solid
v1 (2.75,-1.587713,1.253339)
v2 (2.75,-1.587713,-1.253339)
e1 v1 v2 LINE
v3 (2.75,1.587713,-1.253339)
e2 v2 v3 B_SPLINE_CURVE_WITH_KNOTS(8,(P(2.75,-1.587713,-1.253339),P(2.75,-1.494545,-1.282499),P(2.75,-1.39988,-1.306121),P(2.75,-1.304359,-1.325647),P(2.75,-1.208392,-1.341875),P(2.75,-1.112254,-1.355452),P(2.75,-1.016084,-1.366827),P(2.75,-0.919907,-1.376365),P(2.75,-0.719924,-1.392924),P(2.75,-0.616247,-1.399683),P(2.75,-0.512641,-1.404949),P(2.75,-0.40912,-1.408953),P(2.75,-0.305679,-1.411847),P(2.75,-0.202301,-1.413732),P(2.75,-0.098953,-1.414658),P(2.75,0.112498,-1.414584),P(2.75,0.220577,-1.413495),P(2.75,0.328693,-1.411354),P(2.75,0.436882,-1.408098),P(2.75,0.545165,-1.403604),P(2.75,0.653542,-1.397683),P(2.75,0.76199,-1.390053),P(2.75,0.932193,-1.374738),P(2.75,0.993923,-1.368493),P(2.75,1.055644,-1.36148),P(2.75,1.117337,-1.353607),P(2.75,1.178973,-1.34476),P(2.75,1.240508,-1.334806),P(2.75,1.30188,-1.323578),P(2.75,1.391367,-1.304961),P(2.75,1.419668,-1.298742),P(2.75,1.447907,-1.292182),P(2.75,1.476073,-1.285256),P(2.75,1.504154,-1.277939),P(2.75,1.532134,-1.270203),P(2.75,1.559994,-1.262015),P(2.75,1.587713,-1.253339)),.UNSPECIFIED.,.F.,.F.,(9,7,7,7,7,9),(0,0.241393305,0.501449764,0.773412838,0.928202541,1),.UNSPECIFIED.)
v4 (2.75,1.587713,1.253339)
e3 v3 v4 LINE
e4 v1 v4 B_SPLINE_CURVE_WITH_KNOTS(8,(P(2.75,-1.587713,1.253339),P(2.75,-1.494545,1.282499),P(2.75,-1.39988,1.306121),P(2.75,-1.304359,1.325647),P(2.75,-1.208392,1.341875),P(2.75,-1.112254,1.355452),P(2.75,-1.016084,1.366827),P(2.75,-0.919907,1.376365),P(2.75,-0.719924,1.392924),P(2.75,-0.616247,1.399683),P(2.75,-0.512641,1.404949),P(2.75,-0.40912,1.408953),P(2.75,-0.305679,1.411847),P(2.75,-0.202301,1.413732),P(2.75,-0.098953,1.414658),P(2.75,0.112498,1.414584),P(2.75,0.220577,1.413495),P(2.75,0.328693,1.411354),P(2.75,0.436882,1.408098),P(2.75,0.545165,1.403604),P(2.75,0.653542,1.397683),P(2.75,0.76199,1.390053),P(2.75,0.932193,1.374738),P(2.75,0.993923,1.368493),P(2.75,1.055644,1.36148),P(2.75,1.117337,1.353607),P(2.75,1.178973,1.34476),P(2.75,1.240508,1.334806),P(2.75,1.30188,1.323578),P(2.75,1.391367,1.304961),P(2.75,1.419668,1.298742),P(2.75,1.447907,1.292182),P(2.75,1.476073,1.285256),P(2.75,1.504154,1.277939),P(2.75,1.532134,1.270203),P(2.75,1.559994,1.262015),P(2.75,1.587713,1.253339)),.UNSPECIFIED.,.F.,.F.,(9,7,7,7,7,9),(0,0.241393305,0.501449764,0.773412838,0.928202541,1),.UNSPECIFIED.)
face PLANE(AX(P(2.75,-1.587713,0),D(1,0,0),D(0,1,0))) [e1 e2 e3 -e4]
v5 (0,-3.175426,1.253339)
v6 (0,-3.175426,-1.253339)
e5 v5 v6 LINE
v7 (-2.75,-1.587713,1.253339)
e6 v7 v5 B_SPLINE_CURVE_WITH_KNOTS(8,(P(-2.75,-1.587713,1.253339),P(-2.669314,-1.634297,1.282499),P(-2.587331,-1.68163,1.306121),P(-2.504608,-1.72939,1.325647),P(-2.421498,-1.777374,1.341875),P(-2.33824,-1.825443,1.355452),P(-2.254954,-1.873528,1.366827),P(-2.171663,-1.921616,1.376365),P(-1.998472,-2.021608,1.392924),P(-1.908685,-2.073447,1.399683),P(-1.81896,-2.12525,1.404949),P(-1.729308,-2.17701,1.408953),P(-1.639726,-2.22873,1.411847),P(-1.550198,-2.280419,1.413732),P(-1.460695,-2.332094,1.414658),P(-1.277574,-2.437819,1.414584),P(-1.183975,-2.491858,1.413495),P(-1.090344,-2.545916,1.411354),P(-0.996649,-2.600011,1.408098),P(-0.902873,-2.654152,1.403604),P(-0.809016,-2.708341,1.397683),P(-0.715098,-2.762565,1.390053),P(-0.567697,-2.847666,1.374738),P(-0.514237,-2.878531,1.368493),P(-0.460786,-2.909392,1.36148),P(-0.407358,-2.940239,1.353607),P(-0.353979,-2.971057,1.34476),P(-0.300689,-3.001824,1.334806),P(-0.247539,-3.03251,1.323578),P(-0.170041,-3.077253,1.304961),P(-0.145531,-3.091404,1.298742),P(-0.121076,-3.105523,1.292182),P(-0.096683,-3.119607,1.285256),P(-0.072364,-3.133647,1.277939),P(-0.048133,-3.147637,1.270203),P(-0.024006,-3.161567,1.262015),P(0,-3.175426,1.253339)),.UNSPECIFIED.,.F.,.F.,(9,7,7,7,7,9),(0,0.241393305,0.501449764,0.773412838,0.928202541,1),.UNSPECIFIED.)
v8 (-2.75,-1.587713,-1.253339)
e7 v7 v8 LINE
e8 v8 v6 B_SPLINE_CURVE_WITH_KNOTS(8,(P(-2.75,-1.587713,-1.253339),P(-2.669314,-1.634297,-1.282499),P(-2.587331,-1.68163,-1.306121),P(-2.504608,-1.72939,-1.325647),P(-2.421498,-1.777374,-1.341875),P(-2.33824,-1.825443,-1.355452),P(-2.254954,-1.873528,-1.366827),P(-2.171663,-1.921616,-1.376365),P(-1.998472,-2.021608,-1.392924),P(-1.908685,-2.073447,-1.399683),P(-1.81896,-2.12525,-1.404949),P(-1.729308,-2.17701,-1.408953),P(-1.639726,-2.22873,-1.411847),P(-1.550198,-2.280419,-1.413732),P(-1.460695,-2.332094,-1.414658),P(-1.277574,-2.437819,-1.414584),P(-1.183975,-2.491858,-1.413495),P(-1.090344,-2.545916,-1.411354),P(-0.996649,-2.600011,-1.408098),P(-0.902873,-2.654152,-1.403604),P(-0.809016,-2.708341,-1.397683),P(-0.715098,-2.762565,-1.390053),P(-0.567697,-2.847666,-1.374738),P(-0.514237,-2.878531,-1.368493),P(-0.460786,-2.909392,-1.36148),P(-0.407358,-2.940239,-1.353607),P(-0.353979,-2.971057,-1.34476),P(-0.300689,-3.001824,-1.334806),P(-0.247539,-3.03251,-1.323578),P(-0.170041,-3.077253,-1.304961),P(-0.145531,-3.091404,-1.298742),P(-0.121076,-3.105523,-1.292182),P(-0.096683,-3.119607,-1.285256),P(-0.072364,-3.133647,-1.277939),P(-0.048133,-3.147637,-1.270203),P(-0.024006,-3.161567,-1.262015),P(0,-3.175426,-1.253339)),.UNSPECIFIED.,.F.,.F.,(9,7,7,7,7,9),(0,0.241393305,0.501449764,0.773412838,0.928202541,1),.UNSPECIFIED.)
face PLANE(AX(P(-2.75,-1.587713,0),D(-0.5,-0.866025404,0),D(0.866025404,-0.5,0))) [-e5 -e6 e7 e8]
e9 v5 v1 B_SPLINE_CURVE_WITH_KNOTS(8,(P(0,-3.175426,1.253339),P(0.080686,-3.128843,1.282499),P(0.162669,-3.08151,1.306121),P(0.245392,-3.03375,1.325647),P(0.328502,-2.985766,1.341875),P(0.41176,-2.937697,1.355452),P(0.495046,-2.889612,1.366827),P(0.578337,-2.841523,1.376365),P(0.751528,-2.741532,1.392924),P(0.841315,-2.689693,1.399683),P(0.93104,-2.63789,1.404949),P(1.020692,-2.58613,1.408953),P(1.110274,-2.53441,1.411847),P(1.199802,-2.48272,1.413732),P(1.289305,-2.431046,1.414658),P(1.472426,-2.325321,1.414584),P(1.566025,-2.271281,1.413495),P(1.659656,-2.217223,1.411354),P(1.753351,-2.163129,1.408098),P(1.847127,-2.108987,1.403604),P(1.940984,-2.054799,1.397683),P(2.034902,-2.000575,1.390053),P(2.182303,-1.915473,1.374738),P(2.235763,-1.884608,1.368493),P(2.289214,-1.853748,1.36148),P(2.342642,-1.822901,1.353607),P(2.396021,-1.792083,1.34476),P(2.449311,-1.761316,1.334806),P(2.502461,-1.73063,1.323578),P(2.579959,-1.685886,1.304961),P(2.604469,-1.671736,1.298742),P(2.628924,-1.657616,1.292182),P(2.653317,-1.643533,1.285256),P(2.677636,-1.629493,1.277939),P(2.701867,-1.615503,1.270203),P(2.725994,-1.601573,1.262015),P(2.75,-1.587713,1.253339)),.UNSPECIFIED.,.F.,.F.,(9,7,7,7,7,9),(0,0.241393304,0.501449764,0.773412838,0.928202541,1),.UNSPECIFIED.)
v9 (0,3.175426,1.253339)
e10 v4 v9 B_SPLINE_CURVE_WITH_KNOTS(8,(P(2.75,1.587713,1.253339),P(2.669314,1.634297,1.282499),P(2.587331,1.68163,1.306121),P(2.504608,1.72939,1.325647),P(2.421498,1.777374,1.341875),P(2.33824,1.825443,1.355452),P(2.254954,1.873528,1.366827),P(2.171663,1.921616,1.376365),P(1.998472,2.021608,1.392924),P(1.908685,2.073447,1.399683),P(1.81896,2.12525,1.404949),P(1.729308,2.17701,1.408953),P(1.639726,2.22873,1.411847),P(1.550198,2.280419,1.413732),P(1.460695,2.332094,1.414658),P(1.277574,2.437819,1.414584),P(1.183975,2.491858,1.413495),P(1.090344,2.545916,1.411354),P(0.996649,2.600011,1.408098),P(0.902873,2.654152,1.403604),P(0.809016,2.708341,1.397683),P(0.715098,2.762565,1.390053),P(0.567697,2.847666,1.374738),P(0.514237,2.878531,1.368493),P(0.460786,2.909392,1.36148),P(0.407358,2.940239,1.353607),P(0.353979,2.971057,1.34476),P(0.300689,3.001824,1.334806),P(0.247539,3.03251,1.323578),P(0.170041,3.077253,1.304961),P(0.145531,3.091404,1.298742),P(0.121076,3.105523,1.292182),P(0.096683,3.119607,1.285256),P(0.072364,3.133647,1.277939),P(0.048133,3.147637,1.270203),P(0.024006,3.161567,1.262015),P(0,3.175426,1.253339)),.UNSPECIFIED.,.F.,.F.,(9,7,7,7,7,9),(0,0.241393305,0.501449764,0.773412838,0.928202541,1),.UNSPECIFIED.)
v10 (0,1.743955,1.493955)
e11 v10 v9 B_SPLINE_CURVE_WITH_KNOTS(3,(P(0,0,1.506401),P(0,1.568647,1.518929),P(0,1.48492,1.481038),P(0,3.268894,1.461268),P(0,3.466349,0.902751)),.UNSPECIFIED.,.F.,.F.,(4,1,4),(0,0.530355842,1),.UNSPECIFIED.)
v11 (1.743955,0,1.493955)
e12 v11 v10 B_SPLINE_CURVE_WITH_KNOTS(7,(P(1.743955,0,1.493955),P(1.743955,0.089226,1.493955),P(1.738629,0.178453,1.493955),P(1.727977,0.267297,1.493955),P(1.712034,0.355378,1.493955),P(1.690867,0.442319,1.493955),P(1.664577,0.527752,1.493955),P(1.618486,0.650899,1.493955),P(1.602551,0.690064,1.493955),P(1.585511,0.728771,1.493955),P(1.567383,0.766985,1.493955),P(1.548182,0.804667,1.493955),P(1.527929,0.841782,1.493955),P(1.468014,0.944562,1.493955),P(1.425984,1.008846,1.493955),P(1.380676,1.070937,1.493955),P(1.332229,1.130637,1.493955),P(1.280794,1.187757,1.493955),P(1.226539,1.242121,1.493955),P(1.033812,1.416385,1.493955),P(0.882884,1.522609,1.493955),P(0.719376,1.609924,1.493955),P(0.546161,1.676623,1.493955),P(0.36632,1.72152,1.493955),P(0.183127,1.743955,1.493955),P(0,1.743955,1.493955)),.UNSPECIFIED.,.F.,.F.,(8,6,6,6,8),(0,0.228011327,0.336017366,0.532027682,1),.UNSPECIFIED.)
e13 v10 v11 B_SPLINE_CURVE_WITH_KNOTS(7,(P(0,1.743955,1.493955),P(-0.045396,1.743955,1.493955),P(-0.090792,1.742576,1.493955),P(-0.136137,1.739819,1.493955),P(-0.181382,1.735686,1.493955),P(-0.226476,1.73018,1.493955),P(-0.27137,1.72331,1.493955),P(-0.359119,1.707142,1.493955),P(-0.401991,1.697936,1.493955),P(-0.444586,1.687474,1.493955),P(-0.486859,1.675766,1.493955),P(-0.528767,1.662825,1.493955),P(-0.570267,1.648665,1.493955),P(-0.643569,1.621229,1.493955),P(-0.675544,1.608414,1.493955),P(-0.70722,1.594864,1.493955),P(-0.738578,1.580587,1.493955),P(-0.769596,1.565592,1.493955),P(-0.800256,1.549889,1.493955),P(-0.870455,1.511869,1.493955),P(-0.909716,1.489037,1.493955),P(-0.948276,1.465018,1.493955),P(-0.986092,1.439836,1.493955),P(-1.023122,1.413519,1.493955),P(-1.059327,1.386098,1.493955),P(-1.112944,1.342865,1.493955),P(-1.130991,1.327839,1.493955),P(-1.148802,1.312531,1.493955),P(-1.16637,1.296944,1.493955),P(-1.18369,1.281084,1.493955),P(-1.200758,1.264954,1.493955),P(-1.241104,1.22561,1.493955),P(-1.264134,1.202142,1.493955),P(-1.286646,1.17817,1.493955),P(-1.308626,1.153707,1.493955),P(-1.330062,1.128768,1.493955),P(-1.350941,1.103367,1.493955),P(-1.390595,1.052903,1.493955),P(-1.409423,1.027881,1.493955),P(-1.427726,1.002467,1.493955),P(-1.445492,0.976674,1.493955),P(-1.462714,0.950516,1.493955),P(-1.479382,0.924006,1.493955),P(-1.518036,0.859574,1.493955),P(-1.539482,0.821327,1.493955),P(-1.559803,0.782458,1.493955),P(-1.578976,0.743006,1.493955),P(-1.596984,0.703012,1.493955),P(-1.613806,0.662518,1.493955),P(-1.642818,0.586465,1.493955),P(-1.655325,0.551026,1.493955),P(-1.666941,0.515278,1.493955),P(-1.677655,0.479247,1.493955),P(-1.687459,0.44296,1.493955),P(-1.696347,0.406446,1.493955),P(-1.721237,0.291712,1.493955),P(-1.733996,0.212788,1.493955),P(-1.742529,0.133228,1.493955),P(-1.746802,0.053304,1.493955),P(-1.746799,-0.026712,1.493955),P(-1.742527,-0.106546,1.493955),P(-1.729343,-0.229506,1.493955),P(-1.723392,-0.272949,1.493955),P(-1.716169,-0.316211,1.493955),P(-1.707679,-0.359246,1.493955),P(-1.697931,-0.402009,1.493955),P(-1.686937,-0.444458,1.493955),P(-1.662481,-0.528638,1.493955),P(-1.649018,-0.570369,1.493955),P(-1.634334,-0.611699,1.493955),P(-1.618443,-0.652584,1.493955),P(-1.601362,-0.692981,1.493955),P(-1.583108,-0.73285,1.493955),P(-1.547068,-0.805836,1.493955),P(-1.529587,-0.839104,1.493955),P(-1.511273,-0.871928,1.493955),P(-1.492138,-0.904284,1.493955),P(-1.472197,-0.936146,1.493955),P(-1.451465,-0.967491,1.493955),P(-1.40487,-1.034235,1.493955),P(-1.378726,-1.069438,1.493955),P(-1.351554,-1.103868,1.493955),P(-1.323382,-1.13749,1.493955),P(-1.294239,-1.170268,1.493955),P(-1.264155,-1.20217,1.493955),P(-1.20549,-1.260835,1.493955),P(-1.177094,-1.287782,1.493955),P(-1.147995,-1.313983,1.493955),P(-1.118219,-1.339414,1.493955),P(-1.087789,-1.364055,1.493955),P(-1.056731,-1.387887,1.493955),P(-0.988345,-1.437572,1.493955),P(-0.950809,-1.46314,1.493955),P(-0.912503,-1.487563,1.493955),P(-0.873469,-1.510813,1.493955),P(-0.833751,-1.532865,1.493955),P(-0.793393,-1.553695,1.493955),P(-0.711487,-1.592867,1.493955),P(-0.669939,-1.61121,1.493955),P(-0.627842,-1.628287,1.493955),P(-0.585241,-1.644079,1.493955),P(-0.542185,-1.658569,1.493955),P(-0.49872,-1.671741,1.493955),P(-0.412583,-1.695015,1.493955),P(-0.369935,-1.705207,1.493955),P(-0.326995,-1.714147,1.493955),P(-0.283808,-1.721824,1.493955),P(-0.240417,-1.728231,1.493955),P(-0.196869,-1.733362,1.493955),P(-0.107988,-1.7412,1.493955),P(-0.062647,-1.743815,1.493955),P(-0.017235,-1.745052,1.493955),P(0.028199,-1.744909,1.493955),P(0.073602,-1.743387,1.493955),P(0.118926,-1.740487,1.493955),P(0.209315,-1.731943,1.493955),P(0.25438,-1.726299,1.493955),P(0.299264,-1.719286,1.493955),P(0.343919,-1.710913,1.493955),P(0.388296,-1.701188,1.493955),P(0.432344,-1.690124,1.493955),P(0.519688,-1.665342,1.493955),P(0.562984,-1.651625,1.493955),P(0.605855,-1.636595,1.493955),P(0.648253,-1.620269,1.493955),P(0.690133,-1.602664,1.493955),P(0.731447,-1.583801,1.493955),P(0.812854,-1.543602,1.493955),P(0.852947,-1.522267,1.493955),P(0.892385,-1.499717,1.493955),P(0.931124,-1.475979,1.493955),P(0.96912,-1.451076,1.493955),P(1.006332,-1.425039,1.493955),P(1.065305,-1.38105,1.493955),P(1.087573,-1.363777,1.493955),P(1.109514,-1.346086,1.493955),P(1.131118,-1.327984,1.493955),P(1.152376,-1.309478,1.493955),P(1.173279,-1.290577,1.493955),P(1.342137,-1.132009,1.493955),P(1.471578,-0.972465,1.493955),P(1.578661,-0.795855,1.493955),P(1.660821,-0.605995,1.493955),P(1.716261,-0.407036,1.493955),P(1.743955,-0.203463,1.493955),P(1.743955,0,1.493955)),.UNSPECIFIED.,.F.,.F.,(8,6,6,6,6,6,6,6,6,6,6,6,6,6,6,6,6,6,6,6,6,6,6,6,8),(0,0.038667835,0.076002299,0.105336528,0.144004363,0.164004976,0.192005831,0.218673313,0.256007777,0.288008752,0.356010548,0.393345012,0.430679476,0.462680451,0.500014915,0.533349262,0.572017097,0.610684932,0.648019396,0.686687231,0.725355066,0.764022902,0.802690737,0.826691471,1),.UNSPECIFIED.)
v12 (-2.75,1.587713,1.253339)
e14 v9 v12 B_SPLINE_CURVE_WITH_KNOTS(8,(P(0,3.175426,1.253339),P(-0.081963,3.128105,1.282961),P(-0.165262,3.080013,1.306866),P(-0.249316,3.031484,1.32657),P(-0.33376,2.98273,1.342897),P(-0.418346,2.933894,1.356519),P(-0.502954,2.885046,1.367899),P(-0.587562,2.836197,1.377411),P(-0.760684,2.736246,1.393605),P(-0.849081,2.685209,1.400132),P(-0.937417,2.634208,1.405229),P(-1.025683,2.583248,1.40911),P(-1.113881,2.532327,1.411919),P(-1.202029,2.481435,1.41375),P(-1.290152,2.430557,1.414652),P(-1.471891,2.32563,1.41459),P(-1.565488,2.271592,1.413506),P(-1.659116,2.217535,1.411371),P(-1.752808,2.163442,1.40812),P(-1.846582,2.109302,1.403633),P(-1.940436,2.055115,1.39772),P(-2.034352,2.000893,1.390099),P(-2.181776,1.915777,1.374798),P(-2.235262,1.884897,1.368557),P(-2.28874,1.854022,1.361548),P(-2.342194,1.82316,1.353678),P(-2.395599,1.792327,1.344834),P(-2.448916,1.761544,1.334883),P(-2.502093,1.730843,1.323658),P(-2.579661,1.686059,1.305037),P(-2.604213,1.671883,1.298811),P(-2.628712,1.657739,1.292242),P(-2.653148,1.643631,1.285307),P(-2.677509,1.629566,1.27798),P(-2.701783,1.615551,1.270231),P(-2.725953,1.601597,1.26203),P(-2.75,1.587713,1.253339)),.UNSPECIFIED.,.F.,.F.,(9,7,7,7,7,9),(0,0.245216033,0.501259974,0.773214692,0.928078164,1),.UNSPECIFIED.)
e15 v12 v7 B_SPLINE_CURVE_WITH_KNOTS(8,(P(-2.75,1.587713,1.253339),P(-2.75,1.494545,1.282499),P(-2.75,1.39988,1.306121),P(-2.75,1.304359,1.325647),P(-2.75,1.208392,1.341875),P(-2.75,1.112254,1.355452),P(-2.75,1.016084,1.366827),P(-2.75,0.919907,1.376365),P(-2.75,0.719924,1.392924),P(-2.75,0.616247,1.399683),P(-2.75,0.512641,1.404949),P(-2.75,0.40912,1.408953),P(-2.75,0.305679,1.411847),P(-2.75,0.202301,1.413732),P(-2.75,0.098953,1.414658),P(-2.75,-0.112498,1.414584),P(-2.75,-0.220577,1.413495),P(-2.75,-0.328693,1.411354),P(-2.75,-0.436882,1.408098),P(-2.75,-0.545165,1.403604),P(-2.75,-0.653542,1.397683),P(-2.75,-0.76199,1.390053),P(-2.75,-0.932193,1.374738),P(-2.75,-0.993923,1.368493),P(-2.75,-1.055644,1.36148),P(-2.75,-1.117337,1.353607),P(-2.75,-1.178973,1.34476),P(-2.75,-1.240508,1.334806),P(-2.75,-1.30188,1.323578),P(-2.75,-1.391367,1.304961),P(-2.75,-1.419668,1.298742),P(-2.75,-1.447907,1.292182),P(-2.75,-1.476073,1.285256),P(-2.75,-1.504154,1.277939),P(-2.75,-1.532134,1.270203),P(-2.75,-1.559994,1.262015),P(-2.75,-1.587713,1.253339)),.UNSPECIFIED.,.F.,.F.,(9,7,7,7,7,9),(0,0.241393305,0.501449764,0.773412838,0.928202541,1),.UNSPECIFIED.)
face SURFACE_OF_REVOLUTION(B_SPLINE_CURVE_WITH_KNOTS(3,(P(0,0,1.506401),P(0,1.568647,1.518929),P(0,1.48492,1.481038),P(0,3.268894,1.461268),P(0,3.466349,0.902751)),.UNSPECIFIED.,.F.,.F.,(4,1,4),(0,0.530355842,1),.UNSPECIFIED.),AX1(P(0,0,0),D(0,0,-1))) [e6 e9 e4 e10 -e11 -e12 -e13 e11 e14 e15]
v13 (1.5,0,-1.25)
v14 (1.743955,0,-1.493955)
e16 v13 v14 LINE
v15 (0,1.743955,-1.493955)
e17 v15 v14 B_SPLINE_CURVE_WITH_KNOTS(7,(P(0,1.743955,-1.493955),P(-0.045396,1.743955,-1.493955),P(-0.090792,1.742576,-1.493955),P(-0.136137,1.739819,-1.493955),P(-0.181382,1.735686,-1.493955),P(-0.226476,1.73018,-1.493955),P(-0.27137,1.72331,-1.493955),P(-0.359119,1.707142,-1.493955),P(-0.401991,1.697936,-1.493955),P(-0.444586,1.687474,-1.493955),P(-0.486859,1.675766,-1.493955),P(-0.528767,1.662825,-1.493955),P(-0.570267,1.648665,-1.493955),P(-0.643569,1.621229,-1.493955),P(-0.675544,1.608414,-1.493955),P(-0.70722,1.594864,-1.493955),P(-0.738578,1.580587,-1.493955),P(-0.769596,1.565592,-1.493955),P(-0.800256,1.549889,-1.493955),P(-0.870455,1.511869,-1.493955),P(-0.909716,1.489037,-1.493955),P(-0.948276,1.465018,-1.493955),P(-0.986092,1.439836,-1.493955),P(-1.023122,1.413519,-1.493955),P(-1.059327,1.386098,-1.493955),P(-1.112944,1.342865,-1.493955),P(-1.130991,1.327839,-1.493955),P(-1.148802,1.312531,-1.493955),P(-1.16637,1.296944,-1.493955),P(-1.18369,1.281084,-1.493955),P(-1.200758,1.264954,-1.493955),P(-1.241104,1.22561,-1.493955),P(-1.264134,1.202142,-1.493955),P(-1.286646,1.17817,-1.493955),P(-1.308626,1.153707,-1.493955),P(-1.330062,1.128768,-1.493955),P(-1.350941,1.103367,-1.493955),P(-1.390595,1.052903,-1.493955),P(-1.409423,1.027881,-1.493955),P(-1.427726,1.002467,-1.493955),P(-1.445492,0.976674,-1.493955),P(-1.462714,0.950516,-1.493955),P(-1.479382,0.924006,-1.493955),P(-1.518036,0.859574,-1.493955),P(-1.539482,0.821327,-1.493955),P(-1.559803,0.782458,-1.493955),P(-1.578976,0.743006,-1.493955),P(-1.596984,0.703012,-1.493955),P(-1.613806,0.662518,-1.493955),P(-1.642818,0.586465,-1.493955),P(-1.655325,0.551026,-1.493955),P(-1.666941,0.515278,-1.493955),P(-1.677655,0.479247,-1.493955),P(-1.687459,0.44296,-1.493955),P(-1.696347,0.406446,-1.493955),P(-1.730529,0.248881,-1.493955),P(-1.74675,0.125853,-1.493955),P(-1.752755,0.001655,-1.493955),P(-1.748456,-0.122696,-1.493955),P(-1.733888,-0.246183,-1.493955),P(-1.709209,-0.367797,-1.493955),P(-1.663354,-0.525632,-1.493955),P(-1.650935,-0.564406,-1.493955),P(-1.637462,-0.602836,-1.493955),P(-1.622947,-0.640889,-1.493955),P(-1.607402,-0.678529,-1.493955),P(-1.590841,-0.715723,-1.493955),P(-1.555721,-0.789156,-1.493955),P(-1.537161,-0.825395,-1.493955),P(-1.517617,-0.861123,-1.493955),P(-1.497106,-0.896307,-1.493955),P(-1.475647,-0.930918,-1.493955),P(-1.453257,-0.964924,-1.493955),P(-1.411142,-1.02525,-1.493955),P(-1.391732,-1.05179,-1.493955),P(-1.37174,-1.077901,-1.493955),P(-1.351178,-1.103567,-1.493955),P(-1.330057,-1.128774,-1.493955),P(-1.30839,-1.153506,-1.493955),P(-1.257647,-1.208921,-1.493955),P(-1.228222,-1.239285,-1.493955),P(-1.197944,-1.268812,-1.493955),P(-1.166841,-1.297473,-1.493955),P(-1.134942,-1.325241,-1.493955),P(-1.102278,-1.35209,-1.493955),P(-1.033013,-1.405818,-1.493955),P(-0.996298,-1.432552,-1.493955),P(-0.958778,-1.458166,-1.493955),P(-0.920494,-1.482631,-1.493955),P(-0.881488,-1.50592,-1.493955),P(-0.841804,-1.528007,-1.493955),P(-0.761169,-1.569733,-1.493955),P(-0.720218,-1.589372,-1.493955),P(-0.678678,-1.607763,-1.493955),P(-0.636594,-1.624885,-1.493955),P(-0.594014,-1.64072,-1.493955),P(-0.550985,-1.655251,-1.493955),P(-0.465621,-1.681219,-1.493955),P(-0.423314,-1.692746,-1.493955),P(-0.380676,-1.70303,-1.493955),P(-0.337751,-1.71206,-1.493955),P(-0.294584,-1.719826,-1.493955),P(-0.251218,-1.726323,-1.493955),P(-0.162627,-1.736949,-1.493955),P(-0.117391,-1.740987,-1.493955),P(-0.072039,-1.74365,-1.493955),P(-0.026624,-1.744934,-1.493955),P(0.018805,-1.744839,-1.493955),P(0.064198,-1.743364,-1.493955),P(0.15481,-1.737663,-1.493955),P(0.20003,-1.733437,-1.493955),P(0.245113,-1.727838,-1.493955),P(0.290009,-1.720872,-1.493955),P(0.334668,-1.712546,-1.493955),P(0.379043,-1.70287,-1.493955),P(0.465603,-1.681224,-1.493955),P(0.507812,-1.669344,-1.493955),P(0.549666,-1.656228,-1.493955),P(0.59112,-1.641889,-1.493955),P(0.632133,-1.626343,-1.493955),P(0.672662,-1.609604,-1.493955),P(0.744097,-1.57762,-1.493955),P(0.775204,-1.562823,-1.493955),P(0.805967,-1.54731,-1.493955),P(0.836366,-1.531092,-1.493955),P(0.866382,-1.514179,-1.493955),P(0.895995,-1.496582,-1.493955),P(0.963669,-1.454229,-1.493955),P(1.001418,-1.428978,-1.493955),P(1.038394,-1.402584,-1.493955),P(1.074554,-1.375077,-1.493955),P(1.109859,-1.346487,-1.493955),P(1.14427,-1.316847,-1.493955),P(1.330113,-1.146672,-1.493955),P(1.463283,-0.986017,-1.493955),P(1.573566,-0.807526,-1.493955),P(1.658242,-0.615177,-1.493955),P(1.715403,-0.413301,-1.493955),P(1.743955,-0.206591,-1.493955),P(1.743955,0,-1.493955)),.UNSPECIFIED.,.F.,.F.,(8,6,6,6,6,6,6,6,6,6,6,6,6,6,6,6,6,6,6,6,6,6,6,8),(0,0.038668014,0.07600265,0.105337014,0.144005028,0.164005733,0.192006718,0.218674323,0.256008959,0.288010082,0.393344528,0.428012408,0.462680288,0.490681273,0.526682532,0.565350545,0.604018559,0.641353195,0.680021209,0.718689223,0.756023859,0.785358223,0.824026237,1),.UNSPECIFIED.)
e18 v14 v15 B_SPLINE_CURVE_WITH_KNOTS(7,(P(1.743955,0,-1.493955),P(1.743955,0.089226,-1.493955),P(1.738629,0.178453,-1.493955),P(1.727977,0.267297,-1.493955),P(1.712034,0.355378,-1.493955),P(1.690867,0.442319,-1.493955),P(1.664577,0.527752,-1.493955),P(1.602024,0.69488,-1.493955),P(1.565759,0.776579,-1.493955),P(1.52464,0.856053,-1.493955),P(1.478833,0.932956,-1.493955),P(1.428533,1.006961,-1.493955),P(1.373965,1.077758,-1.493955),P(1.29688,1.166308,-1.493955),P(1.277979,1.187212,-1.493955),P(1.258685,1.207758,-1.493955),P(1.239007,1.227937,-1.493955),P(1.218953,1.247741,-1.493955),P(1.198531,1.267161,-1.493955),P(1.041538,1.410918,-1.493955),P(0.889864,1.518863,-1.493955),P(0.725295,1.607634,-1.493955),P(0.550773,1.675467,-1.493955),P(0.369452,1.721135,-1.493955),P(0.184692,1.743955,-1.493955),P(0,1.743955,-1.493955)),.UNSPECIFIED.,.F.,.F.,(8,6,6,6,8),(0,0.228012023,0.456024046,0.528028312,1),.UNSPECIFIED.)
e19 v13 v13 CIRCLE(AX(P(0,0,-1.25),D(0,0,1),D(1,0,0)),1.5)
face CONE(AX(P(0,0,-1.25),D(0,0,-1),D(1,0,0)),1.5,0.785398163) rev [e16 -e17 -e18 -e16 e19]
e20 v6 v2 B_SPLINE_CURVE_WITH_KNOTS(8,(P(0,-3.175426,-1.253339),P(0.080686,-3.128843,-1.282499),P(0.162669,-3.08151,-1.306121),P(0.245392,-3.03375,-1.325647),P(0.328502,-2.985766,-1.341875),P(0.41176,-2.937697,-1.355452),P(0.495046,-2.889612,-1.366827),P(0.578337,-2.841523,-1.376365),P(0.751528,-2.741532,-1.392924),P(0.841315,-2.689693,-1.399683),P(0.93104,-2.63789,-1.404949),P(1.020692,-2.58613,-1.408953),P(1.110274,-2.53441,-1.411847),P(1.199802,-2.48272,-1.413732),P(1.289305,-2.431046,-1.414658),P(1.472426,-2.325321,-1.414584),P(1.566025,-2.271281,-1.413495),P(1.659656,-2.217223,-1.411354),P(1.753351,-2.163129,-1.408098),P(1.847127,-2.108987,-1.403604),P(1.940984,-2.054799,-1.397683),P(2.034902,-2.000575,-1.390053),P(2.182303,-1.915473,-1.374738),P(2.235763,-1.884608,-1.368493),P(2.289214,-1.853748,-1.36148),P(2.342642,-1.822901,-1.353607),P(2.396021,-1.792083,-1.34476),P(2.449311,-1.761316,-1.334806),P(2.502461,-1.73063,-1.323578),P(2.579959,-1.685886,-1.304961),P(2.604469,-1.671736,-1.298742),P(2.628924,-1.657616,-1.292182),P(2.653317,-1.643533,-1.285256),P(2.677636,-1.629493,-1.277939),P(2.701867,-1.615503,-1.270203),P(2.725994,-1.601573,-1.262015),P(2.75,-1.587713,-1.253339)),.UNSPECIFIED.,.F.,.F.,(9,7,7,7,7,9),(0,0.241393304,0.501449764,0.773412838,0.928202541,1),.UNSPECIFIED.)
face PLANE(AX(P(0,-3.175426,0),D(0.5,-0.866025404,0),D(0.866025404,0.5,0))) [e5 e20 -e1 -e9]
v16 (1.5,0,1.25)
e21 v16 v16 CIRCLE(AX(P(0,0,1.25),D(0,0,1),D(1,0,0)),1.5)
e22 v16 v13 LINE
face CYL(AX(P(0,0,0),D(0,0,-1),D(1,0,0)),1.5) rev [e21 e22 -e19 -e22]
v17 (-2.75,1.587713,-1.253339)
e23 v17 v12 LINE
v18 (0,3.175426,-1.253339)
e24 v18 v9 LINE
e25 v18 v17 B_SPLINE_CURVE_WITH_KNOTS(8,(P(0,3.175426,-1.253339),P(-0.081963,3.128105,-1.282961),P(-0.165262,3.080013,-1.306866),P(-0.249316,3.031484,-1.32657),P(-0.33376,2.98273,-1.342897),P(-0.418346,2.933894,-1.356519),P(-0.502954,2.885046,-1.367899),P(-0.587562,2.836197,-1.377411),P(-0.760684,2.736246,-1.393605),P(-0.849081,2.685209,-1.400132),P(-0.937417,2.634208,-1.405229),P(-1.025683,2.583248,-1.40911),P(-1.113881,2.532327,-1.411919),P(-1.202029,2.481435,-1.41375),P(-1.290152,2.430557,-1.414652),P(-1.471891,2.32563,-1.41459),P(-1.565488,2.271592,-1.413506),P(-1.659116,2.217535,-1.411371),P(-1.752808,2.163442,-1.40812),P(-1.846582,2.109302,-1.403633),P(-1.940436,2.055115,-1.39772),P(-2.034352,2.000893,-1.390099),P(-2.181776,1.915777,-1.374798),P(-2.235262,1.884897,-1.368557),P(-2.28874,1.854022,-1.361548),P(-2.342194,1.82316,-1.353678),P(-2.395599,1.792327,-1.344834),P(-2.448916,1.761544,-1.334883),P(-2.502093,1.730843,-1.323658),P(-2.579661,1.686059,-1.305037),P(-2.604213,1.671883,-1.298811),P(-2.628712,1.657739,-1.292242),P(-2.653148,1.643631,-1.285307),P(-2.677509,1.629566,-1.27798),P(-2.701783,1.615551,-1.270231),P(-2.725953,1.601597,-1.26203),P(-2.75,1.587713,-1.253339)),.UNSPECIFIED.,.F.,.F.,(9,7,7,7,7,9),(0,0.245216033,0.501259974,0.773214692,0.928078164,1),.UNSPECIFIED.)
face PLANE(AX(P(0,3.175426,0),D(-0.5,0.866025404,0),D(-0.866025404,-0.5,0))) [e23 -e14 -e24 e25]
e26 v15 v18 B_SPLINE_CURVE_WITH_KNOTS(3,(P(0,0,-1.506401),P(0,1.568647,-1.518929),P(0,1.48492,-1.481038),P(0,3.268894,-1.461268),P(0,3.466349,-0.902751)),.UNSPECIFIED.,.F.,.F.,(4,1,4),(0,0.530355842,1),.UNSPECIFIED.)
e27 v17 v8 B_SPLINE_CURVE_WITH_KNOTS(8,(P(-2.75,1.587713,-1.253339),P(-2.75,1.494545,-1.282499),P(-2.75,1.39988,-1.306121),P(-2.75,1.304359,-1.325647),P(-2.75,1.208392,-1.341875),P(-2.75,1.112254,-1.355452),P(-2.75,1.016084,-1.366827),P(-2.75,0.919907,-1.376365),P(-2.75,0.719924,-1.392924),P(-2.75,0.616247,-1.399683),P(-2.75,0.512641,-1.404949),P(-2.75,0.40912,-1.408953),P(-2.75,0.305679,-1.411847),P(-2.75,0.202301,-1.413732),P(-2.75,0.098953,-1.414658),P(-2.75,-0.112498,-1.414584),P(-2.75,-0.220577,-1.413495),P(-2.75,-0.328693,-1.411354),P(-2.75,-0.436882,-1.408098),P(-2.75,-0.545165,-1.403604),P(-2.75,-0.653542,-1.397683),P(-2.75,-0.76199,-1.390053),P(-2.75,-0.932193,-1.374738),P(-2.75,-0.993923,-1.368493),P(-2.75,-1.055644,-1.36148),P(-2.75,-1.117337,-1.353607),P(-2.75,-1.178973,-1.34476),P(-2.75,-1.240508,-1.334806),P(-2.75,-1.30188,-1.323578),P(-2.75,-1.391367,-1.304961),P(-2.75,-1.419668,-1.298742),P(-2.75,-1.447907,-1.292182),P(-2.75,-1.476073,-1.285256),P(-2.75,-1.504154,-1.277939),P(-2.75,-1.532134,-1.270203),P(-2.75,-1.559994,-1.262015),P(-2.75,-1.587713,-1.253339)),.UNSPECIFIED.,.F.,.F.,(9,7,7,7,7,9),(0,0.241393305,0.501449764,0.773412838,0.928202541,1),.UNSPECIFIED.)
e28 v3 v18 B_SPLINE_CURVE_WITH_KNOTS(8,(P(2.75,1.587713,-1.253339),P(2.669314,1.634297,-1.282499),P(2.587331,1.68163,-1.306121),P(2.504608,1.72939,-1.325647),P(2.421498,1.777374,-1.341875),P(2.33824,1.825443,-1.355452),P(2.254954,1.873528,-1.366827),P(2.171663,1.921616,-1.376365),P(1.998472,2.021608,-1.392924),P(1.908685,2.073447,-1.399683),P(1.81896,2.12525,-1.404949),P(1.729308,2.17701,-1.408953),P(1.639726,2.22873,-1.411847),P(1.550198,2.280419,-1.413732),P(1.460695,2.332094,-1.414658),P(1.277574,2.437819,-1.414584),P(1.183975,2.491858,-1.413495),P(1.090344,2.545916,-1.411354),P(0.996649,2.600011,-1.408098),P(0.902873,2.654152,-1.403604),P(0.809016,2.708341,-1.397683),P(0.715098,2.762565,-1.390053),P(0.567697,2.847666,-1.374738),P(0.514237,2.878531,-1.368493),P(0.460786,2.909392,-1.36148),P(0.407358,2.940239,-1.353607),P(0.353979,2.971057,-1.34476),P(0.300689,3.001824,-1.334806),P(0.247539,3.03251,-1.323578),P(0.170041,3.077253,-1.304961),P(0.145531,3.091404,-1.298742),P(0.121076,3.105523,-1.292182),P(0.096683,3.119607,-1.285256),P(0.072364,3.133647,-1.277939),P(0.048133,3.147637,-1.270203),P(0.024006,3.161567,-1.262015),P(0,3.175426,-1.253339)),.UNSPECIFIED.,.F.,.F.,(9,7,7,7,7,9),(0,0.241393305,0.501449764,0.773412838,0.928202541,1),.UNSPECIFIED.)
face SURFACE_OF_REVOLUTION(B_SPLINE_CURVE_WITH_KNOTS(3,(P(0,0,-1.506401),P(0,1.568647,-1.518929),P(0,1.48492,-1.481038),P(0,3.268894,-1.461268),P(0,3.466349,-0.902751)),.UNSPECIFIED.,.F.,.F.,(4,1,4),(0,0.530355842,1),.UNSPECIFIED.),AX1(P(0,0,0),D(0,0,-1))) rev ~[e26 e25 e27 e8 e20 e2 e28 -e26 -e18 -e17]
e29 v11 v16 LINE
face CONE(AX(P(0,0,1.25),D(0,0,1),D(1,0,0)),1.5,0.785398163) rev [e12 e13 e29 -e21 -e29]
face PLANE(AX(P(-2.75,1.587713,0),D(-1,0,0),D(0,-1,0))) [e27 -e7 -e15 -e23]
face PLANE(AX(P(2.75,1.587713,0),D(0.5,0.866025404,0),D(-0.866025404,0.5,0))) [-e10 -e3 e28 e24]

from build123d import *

# Parameters (mm, degrees)
F0_R     = 1.5
F1_DEPTH = 1.5
F2_SIZE  = 0.25
F3_SIZE  = 0.25


with BuildPart() as f1:
    # F0 (on Top) → F1 (new body, symmetric)
    with BuildSketch(Plane.XY):
        Polygon((2.75, -1.5877132403), (2.75, 1.5877132403), (0, 3.1754264805), (-2.75, 1.5877132403), (-2.75, -1.5877132403), (0, -3.1754264805), align=None)
        Circle(F0_R, mode=Mode.SUBTRACT)
    extrude(amount=F1_DEPTH, both=True)

    # F2
    f2_edges = [f1.edges().sort_by_distance(p)[0] for p in [
        (-1.5, 0, 1.5),
    ]]
    chamfer(f2_edges, length=F2_SIZE)

    # F3
    f3_edges = [f1.edges().sort_by_distance(p)[0] for p in [
        (-1.5, 0, -1.5),
    ]]
    chamfer(f3_edges, length=F3_SIZE)

    # F4 (on Right) → F5 (revolve, cut)
    with BuildSketch(Plane.YZ):
        with BuildLine():
            Line((0, 1.9006831571), (0, 1.5064009931))
            add(Edge.make_bspline(
                [(0, 1.5064009931), (1.5686472961, 1.5189287501), (1.4849199585, 1.48103808), (3.2688938081, 1.4612684026), (3.4663493279, 0.9027514607)],
                knots=[0, 0, 0, 0, 0.5303558422, 1, 1, 1, 1], degree=3))
            Line((3.4663493279, 0.9027514607), (3.4663493279, -0.9027514607))
            add(Edge.make_bspline(
                [(0, -1.5064009931), (1.5686472961, -1.5189287501), (1.4849199585, -1.48103808), (3.2688938081, -1.4612684026), (3.4663493279, -0.9027514607)],
                knots=[0, 0, 0, 0, 0.5303558422, 1, 1, 1, 1], degree=3))
            Line((0, -1.5064009931), (0, -1.8480797298))
            Line((0, -1.8480797298), (4.1224174201, -1.8480797298))
            Line((4.1224174201, -1.8480797298), (4.1224174201, 1.9006831571))
            Line((4.1224174201, 1.9006831571), (0, 1.9006831571))
        make_face()
    revolve(axis=Axis((0, 0, 0), (0, 0, -1)), mode=Mode.SUBTRACT)


solid = f1.part
